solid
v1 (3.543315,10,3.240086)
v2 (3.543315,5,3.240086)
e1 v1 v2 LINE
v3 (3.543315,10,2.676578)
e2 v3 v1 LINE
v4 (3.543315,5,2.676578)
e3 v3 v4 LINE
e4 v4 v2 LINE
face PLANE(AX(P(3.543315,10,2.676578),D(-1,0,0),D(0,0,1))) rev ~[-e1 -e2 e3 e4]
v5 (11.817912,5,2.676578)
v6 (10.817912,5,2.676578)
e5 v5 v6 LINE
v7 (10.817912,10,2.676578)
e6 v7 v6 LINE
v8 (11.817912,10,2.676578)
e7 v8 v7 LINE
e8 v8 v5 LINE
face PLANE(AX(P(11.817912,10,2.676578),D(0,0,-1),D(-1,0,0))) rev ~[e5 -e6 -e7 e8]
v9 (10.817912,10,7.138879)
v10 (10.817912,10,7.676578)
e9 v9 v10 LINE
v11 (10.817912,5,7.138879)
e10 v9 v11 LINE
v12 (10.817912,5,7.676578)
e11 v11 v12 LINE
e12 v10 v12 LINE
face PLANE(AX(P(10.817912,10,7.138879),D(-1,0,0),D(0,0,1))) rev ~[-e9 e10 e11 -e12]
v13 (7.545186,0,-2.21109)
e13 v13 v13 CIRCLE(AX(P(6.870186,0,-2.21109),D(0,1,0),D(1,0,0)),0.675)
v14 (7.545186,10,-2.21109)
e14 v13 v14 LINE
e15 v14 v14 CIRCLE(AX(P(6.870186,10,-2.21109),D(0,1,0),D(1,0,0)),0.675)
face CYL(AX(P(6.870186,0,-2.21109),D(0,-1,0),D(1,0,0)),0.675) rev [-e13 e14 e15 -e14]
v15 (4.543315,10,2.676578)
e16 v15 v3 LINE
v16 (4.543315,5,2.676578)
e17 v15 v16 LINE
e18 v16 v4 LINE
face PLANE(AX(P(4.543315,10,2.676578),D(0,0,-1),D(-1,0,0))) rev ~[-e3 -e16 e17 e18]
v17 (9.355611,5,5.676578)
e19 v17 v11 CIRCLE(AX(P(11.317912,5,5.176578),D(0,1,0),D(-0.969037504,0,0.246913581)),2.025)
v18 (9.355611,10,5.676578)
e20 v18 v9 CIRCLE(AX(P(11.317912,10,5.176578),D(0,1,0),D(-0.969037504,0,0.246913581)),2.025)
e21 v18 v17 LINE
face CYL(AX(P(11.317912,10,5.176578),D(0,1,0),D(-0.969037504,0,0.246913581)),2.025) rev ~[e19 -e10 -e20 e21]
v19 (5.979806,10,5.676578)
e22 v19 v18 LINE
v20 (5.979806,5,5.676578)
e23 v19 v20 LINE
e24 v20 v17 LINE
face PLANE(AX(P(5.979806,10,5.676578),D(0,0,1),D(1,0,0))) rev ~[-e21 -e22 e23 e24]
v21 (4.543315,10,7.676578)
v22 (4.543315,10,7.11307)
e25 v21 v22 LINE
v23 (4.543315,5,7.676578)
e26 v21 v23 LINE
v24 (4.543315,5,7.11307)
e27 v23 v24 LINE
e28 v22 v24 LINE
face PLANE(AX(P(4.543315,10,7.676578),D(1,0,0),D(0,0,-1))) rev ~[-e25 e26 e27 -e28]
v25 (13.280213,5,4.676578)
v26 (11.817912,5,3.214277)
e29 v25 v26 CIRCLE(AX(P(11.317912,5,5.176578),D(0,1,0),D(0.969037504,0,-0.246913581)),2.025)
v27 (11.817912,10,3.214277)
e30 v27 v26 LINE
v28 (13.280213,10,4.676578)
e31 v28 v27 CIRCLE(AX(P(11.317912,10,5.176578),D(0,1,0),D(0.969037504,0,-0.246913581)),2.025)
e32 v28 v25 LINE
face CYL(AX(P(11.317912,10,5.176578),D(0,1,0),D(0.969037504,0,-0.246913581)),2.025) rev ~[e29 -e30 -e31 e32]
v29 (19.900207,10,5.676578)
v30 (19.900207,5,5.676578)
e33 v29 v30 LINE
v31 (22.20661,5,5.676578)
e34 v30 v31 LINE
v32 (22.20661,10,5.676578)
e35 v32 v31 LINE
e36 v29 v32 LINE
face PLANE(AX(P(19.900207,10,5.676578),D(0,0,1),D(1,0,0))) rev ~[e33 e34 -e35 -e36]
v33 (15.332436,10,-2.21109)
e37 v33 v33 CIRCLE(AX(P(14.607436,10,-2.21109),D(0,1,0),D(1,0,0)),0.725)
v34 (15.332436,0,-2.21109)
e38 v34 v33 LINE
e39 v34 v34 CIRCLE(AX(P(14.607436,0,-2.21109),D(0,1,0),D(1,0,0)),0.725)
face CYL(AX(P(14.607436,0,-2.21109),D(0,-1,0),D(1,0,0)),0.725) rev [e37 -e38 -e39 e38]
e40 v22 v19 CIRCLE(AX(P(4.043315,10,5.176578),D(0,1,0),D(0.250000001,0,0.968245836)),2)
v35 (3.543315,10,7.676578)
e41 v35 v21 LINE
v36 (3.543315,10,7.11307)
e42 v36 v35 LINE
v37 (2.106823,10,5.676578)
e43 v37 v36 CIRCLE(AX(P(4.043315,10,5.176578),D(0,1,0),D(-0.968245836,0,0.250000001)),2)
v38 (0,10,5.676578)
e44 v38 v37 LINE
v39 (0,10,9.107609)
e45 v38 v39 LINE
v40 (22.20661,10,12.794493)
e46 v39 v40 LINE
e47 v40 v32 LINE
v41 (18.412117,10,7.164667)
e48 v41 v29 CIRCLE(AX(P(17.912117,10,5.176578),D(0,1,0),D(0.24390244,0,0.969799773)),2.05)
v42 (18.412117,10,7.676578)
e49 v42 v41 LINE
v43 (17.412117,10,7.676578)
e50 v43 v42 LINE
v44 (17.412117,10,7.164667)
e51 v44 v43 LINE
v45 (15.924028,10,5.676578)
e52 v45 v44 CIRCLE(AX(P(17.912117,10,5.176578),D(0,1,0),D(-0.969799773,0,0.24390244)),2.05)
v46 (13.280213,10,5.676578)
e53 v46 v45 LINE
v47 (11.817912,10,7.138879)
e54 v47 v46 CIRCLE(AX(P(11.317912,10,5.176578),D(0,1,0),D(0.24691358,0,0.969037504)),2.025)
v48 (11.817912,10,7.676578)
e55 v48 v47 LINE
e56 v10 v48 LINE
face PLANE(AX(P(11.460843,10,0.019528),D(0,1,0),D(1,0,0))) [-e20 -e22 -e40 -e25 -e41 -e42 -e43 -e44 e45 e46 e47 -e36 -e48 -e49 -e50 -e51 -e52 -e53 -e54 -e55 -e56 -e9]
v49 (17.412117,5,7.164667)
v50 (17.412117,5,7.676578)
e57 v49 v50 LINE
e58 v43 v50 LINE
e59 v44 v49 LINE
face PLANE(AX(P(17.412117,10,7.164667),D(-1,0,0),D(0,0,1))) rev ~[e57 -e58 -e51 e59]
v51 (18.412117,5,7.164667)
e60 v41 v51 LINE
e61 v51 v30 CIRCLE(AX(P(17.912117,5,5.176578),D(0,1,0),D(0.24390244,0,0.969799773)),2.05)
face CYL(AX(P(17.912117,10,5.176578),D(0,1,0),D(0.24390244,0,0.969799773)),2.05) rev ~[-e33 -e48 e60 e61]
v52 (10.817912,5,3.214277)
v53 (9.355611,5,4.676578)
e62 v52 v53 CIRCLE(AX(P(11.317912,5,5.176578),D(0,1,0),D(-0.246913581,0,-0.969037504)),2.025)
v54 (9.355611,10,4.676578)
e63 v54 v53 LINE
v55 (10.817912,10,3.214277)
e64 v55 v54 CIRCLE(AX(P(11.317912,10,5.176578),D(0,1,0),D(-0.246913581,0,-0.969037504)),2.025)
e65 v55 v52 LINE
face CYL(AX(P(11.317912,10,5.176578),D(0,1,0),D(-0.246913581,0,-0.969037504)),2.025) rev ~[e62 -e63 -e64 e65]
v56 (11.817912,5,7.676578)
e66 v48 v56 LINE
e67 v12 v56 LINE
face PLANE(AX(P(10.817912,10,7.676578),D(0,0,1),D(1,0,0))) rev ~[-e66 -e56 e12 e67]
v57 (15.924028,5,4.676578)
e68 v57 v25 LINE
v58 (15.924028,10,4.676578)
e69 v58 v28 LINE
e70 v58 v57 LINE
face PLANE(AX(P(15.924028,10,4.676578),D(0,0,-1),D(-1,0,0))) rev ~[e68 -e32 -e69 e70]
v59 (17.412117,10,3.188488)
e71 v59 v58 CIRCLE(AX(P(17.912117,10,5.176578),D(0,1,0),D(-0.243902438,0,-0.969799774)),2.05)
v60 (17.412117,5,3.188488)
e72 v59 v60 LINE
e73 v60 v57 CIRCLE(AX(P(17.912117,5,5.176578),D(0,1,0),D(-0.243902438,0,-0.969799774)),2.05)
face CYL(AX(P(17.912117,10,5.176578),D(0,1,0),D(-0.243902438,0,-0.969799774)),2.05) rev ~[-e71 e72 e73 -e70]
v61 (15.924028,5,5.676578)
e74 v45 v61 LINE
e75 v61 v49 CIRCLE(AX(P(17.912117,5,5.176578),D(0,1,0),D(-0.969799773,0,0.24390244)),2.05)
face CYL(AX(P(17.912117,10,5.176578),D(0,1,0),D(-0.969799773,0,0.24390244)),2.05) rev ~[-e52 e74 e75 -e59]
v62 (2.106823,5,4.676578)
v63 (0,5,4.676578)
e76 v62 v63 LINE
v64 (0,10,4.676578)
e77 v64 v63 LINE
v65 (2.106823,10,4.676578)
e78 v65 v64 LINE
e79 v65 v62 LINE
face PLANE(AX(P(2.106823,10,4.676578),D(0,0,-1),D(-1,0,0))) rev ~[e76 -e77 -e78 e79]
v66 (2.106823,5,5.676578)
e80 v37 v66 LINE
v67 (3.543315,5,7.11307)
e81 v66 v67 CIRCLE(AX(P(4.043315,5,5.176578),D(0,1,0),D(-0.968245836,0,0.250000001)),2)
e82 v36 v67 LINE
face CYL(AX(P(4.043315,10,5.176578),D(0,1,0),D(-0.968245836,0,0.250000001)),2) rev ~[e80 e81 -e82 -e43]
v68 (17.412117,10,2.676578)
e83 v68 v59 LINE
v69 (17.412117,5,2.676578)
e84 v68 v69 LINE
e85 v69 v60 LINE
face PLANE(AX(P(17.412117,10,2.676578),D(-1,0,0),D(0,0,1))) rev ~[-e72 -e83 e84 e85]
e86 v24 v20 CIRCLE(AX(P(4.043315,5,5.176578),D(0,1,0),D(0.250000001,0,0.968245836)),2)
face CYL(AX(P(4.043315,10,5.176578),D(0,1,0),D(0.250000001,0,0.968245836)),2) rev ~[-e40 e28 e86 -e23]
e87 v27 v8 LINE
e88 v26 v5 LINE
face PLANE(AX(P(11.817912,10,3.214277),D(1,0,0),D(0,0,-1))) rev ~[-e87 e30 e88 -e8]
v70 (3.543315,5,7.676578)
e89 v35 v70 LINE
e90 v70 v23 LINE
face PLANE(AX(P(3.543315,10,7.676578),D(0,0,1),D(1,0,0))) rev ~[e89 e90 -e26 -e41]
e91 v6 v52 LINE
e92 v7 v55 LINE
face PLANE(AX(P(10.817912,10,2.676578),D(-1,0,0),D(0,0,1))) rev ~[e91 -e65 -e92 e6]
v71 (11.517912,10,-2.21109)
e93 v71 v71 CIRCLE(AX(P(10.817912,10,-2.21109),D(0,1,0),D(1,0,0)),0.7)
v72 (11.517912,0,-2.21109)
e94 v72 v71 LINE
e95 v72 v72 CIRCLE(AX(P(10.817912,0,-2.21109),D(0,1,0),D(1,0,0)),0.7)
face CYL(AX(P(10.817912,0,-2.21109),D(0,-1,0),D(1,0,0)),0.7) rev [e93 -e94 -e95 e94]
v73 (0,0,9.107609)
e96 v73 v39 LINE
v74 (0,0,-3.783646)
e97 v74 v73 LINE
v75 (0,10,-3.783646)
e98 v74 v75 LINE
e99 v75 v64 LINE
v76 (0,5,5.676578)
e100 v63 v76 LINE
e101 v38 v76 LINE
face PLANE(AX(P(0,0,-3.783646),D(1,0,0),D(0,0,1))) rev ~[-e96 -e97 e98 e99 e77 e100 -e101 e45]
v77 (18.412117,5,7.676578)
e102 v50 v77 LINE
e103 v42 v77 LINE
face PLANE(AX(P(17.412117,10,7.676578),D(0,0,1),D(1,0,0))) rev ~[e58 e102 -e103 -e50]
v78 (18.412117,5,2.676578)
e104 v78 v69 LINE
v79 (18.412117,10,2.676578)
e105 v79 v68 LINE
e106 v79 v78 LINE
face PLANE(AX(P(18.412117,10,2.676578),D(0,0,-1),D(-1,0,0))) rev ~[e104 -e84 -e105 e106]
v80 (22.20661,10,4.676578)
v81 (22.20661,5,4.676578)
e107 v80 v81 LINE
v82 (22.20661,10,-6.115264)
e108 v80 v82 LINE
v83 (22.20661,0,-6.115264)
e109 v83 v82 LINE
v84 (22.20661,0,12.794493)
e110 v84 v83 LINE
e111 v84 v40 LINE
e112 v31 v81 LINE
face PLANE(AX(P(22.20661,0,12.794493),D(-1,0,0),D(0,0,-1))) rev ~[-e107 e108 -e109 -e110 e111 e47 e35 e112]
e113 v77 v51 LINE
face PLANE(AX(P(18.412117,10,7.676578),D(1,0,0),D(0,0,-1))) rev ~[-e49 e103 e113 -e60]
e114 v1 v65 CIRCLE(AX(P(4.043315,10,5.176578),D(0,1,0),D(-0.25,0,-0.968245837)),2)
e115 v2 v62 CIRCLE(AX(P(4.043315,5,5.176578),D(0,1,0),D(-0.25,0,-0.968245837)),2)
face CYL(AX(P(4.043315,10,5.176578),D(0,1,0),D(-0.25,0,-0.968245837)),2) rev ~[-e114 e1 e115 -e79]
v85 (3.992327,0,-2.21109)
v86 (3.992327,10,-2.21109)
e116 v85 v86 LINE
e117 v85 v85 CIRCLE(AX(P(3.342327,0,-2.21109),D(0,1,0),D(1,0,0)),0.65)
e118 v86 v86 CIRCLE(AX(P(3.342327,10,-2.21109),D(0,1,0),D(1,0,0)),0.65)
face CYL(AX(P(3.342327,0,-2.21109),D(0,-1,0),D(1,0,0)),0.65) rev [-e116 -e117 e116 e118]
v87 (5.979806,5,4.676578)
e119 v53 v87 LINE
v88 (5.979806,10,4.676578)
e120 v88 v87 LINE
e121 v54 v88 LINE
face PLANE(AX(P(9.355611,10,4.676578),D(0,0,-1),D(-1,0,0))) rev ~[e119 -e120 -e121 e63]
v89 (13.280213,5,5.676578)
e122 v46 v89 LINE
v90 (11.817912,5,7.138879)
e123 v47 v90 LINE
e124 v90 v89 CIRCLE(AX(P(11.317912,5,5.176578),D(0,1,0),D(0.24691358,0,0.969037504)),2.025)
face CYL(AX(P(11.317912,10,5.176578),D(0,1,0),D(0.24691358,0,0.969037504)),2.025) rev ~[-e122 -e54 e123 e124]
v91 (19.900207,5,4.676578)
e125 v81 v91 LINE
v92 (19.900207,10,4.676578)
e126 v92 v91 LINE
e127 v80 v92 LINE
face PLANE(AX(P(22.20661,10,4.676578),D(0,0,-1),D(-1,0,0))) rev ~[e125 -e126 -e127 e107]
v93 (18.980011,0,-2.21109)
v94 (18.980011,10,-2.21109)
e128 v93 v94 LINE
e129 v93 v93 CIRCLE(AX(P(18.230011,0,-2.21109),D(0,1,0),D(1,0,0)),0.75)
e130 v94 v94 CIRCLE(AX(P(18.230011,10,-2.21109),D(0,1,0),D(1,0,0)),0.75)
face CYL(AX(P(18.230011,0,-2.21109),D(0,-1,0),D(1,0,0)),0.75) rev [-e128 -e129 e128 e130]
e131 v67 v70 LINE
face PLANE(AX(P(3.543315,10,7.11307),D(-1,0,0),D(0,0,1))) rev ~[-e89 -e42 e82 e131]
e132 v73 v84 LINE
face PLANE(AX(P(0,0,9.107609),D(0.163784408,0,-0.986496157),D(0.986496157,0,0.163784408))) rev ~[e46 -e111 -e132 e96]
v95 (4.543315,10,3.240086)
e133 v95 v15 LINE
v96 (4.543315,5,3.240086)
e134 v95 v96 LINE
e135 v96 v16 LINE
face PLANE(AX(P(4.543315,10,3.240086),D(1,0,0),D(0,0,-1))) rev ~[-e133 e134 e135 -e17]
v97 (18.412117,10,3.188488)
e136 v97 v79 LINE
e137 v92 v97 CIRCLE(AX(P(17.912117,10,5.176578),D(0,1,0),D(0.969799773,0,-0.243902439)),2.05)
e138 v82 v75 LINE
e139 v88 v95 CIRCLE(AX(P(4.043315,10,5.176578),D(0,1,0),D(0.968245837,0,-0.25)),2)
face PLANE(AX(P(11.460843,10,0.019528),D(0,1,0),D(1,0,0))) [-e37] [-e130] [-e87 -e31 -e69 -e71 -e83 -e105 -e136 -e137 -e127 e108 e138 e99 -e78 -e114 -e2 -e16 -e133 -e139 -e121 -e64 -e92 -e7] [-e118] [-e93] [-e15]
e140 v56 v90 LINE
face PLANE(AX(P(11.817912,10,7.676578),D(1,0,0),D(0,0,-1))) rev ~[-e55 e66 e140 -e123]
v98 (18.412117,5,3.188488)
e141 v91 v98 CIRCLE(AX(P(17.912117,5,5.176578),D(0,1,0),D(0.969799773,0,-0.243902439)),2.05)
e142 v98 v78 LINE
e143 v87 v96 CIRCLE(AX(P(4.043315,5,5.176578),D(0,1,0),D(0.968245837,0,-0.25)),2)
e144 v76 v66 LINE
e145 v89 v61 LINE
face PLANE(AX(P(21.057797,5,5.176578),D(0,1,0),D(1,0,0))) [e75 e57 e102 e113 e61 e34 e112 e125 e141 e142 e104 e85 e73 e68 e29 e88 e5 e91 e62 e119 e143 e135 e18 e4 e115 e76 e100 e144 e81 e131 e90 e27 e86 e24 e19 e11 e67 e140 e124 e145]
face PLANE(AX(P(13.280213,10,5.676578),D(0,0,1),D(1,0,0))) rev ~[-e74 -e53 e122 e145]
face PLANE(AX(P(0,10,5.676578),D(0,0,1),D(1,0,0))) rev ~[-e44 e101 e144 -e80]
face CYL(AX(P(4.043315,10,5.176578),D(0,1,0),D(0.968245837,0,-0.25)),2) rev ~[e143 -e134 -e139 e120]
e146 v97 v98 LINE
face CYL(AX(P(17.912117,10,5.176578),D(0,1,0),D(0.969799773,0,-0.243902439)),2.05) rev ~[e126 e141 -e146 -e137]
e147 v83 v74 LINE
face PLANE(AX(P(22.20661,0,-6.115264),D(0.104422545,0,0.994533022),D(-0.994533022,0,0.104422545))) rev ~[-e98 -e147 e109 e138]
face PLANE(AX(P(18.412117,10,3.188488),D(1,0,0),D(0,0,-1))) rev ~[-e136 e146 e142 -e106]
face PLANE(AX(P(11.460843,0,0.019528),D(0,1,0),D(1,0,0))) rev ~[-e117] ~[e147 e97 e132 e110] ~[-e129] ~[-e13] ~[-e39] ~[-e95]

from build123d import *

# Parameters (mm, degrees)
SKETCH1_R           = 0.65
SKETCH1_R_2         = 0.675
SKETCH1_R_3         = 0.7
SKETCH1_R_4         = 0.725
SKETCH1_R_5         = 0.75
SKETCH1_W           = 1
SKETCH1_H           = 1
BOSS_EXTRUDE1_DEPTH = 10
CUT_EXTRUDE1_START  = 10
SKETCH1_4_W         = 1
SKETCH1_4_H         = 1
CUT_EXTRUDE1_DEPTH  = 5


with BuildPart() as part:
    # Sketch1 → Boss-Extrude1 (new body)
    with BuildSketch(Plane(origin=(0, 0, 0), x_dir=(1, 0, 0), z_dir=(0, 1, 0))):
        with BuildLine():
            Line((22.206609956, -4.676577902), (22.206609956, -1.693083106))
            Line((22.206609956, -1.693083106), (22.206609956, 6.115263516))
            Line((22.206609956, 6.115263516), (0, 3.783645885))
            Line((0, 3.783645885), (0, 1.993800458))
            Line((0, 1.993800458), (0, -4.676577902))
            Line((0, -4.676577902), (2.106823129, -4.676577902))
            ThreePointArc((2.106823129, -4.676577902), (2.62910124, -3.762364339), (3.543314802, -3.240086229))
            Line((3.543314802, -3.240086229), (3.543314802, -2.676577902))
            Line((3.543314802, -2.676577902), (4.543314802, -2.676577902))
            Line((4.543314802, -2.676577902), (4.543314802, -3.240086229))
            ThreePointArc((4.543314802, -3.240086229), (5.457528364, -3.762364339), (5.979806475, -4.676577902))
            Line((5.979806475, -4.676577902), (9.355611155, -4.676577902))
            ThreePointArc((9.355611155, -4.676577902), (9.886020869, -3.74468667), (10.8179121, -3.214276957))
            Line((10.8179121, -3.214276957), (10.8179121, -2.676577902))
            Line((10.8179121, -2.676577902), (11.8179121, -2.676577902))
            Line((11.8179121, -2.676577902), (11.8179121, -3.214276957))
            ThreePointArc((11.8179121, -3.214276957), (12.749803332, -3.74468667), (13.280213046, -4.676577902))
            Line((13.280213046, -4.676577902), (15.924027608, -4.676577902))
            ThreePointArc((15.924027608, -4.676577902), (16.462548242, -3.727009), (17.412117144, -3.188488367))
            Line((17.412117144, -3.188488367), (17.412117144, -2.676577902))
            Line((17.412117144, -2.676577902), (18.412117144, -2.676577902))
            Line((18.412117144, -2.676577902), (18.412117144, -3.188488367))
            ThreePointArc((18.412117144, -3.188488367), (19.361686045, -3.727009), (19.900206679, -4.676577902))
            Line((19.900206679, -4.676577902), (22.206609956, -4.676577902))
        make_face()
        with Locations((3.342327151, 2.211090205)):
            Circle(SKETCH1_R, mode=Mode.SUBTRACT)
        with Locations((6.870185956, 2.211090205)):
            Circle(SKETCH1_R_2, mode=Mode.SUBTRACT)
        with Locations((10.8179121, 2.211090205)):
            Circle(SKETCH1_R_3, mode=Mode.SUBTRACT)
        with Locations((14.607435977, 2.211090205)):
            Circle(SKETCH1_R_4, mode=Mode.SUBTRACT)
        with Locations((18.23001071, 2.211090205)):
            Circle(SKETCH1_R_5, mode=Mode.SUBTRACT)
        with BuildLine():
            Line((22.206609956, -12.794492927), (22.206609956, -5.676577902))
            Line((22.206609956, -5.676577902), (19.900206679, -5.676577902))
            ThreePointArc((19.900206679, -5.676577902), (19.361686045, -6.626146803), (18.412117144, -7.164667437))
            Line((18.412117144, -7.164667437), (18.412117144, -7.676577902))
            Line((18.412117144, -7.676577902), (17.412117144, -7.676577902))
            Line((17.412117144, -7.676577902), (17.412117144, -7.164667437))
            ThreePointArc((17.412117144, -7.164667437), (16.462548242, -6.626146803), (15.924027608, -5.676577902))
            Line((15.924027608, -5.676577902), (13.280213046, -5.676577902))
            ThreePointArc((13.280213046, -5.676577902), (12.749803332, -6.608469134), (11.8179121, -7.138878847))
            Line((11.8179121, -7.138878847), (11.8179121, -7.676577902))
            Line((11.8179121, -7.676577902), (10.8179121, -7.676577902))
            Line((10.8179121, -7.676577902), (10.8179121, -7.138878847))
            ThreePointArc((10.8179121, -7.138878847), (9.886020869, -6.608469134), (9.355611155, -5.676577902))
            Line((9.355611155, -5.676577902), (5.979806475, -5.676577902))
            ThreePointArc((5.979806475, -5.676577902), (5.457528364, -6.590791464), (4.543314802, -7.113069575))
            Line((4.543314802, -7.113069575), (4.543314802, -7.676577902))
            Line((4.543314802, -7.676577902), (3.543314802, -7.676577902))
            Line((3.543314802, -7.676577902), (3.543314802, -7.113069575))
            ThreePointArc((3.543314802, -7.113069575), (2.62910124, -6.590791464), (2.106823129, -5.676577902))
            Line((2.106823129, -5.676577902), (0, -5.676577902))
            Line((0, -5.676577902), (0, -9.107609363))
            Line((0, -9.107609363), (22.206609956, -12.794492927))
        make_face()
        with BuildLine():
            Line((22.206609956, -5.676577902), (22.206609956, -4.676577902))
            Line((22.206609956, -4.676577902), (19.900206679, -4.676577902))
            ThreePointArc((19.900206679, -4.676577902), (19.946580654, -4.924668739), (19.962117144, -5.176577902))
            ThreePointArc((19.962117144, -5.176577902), (19.946580654, -5.428487065), (19.900206679, -5.676577902))
            Line((19.900206679, -5.676577902), (22.206609956, -5.676577902))
        make_face()
        with BuildLine():
            ThreePointArc((19.962117144, -5.176577902), (19.946580654, -4.924668739), (19.900206679, -4.676577902))
            Line((19.900206679, -4.676577902), (18.412117144, -4.676577902))
            Line((18.412117144, -4.676577902), (18.412117144, -5.676577902))
            Line((18.412117144, -5.676577902), (19.900206679, -5.676577902))
            ThreePointArc((19.900206679, -5.676577902), (19.946580654, -5.428487065), (19.962117144, -5.176577902))
        make_face()
        with BuildLine():
            Line((18.412117144, -4.676577902), (19.900206679, -4.676577902))
            ThreePointArc((19.900206679, -4.676577902), (19.361686045, -3.727009), (18.412117144, -3.188488367))
            Line((18.412117144, -3.188488367), (18.412117144, -4.676577902))
        make_face()
        with BuildLine():
            ThreePointArc((17.412117144, -3.188488367), (17.912117144, -3.126577902), (18.412117144, -3.188488367))
            Line((18.412117144, -3.188488367), (18.412117144, -2.676577902))
            Line((18.412117144, -2.676577902), (17.412117144, -2.676577902))
            Line((17.412117144, -2.676577902), (17.412117144, -3.188488367))
        make_face()
        with BuildLine():
            Line((17.412117144, -4.676577902), (18.412117144, -4.676577902))
            Line((18.412117144, -4.676577902), (18.412117144, -3.188488367))
            ThreePointArc((18.412117144, -3.188488367), (17.912117144, -3.126577902), (17.412117144, -3.188488367))
            Line((17.412117144, -3.188488367), (17.412117144, -4.676577902))
        make_face()
        with BuildLine():
            ThreePointArc((18.412117144, -7.164667437), (19.361686045, -6.626146803), (19.900206679, -5.676577902))
            Line((19.900206679, -5.676577902), (18.412117144, -5.676577902))
            Line((18.412117144, -5.676577902), (18.412117144, -7.164667437))
        make_face()
        with BuildLine():
            Line((18.412117144, -7.164667437), (18.412117144, -5.676577902))
            Line((18.412117144, -5.676577902), (17.412117144, -5.676577902))
            Line((17.412117144, -5.676577902), (17.412117144, -7.164667437))
            ThreePointArc((17.412117144, -7.164667437), (17.912117144, -7.226577902), (18.412117144, -7.164667437))
        make_face()
        with BuildLine():
            Line((18.412117144, -7.676577902), (18.412117144, -7.164667437))
            ThreePointArc((18.412117144, -7.164667437), (17.912117144, -7.226577902), (17.412117144, -7.164667437))
            Line((17.412117144, -7.164667437), (17.412117144, -7.676577902))
            Line((17.412117144, -7.676577902), (18.412117144, -7.676577902))
        make_face()
        with Locations((17.912117144, -5.176577902)):
            Rectangle(SKETCH1_W, SKETCH1_H)
        with BuildLine():
            Line((17.412117144, -5.676577902), (17.412117144, -4.676577902))
            Line((17.412117144, -4.676577902), (15.924027608, -4.676577902))
            ThreePointArc((15.924027608, -4.676577902), (15.862117144, -5.176577902), (15.924027608, -5.676577902))
            Line((15.924027608, -5.676577902), (17.412117144, -5.676577902))
        make_face()
        with BuildLine():
            Line((15.924027608, -4.676577902), (17.412117144, -4.676577902))
            Line((17.412117144, -4.676577902), (17.412117144, -3.188488367))
            ThreePointArc((17.412117144, -3.188488367), (16.462548242, -3.727009), (15.924027608, -4.676577902))
        make_face()
        with BuildLine():
            Line((17.412117144, -7.164667437), (17.412117144, -5.676577902))
            Line((17.412117144, -5.676577902), (15.924027608, -5.676577902))
            ThreePointArc((15.924027608, -5.676577902), (16.462548242, -6.626146803), (17.412117144, -7.164667437))
        make_face()
        with BuildLine():
            ThreePointArc((15.924027608, -5.676577902), (15.862117144, -5.176577902), (15.924027608, -4.676577902))
            Line((15.924027608, -4.676577902), (13.280213046, -4.676577902))
            ThreePointArc((13.280213046, -4.676577902), (13.327176196, -4.924619983), (13.3429121, -5.176577902))
            ThreePointArc((13.3429121, -5.176577902), (13.327176196, -5.428535821), (13.280213046, -5.676577902))
            Line((13.280213046, -5.676577902), (15.924027608, -5.676577902))
        make_face()
        with BuildLine():
            Line((11.8179121, -4.676577902), (13.280213046, -4.676577902))
            ThreePointArc((13.280213046, -4.676577902), (12.749803332, -3.74468667), (11.8179121, -3.214276957))
            Line((11.8179121, -3.214276957), (11.8179121, -4.676577902))
        make_face()
        with BuildLine():
            ThreePointArc((10.8179121, -3.214276957), (11.3179121, -3.151577902), (11.8179121, -3.214276957))
            Line((11.8179121, -3.214276957), (11.8179121, -2.676577902))
            Line((11.8179121, -2.676577902), (10.8179121, -2.676577902))
            Line((10.8179121, -2.676577902), (10.8179121, -3.214276957))
        make_face()
        with BuildLine():
            Line((10.8179121, -4.676577902), (11.8179121, -4.676577902))
            Line((11.8179121, -4.676577902), (11.8179121, -3.214276957))
            ThreePointArc((11.8179121, -3.214276957), (11.3179121, -3.151577902), (10.8179121, -3.214276957))
            Line((10.8179121, -3.214276957), (10.8179121, -4.676577902))
        make_face()
        with BuildLine():
            ThreePointArc((13.3429121, -5.176577902), (13.327176196, -4.924619983), (13.280213046, -4.676577902))
            Line((13.280213046, -4.676577902), (11.8179121, -4.676577902))
            Line((11.8179121, -4.676577902), (11.8179121, -5.676577902))
            Line((11.8179121, -5.676577902), (13.280213046, -5.676577902))
            ThreePointArc((13.280213046, -5.676577902), (13.327176196, -5.428535821), (13.3429121, -5.176577902))
        make_face()
        with BuildLine():
            ThreePointArc((11.8179121, -7.138878847), (12.749803332, -6.608469134), (13.280213046, -5.676577902))
            Line((13.280213046, -5.676577902), (11.8179121, -5.676577902))
            Line((11.8179121, -5.676577902), (11.8179121, -7.138878847))
        make_face()
        with BuildLine():
            Line((11.8179121, -7.138878847), (11.8179121, -5.676577902))
            Line((11.8179121, -5.676577902), (10.8179121, -5.676577902))
            Line((10.8179121, -5.676577902), (10.8179121, -7.138878847))
            ThreePointArc((10.8179121, -7.138878847), (11.3179121, -7.201577902), (11.8179121, -7.138878847))
        make_face()
        with BuildLine():
            Line((11.8179121, -7.676577902), (11.8179121, -7.138878847))
            ThreePointArc((11.8179121, -7.138878847), (11.3179121, -7.201577902), (10.8179121, -7.138878847))
            Line((10.8179121, -7.138878847), (10.8179121, -7.676577902))
            Line((10.8179121, -7.676577902), (11.8179121, -7.676577902))
        make_face()
        with Locations((11.3179121, -5.176577902)):
            Rectangle(SKETCH1_W, SKETCH1_H)
        with BuildLine():
            Line((10.8179121, -5.676577902), (10.8179121, -4.676577902))
            Line((10.8179121, -4.676577902), (9.355611155, -4.676577902))
            ThreePointArc((9.355611155, -4.676577902), (9.2929121, -5.176577902), (9.355611155, -5.676577902))
            Line((9.355611155, -5.676577902), (10.8179121, -5.676577902))
        make_face()
        with BuildLine():
            Line((9.355611155, -4.676577902), (10.8179121, -4.676577902))
            Line((10.8179121, -4.676577902), (10.8179121, -3.214276957))
            ThreePointArc((10.8179121, -3.214276957), (9.886020869, -3.74468667), (9.355611155, -4.676577902))
        make_face()
        with BuildLine():
            Line((10.8179121, -7.138878847), (10.8179121, -5.676577902))
            Line((10.8179121, -5.676577902), (9.355611155, -5.676577902))
            ThreePointArc((9.355611155, -5.676577902), (9.886020869, -6.608469134), (10.8179121, -7.138878847))
        make_face()
        with BuildLine():
            Line((9.355611155, -4.676577902), (5.979806475, -4.676577902))
            ThreePointArc((5.979806475, -4.676577902), (6.027374194, -4.924569317), (6.043314802, -5.176577902))
            ThreePointArc((6.043314802, -5.176577902), (6.027374194, -5.428586487), (5.979806475, -5.676577902))
            Line((5.979806475, -5.676577902), (9.355611155, -5.676577902))
            ThreePointArc((9.355611155, -5.676577902), (9.2929121, -5.176577902), (9.355611155, -4.676577902))
        make_face()
        with BuildLine():
            Line((4.543314802, -3.240086229), (4.543314802, -4.676577902))
            Line((4.543314802, -4.676577902), (5.979806475, -4.676577902))
            ThreePointArc((5.979806475, -4.676577902), (5.457528364, -3.762364339), (4.543314802, -3.240086229))
        make_face()
        with BuildLine():
            Line((5.979806475, -4.676577902), (4.543314802, -4.676577902))
            Line((4.543314802, -4.676577902), (4.543314802, -5.676577902))
            Line((4.543314802, -5.676577902), (5.979806475, -5.676577902))
            ThreePointArc((5.979806475, -5.676577902), (6.027374194, -5.428586487), (6.043314802, -5.176577902))
            ThreePointArc((6.043314802, -5.176577902), (6.027374194, -4.924569317), (5.979806475, -4.676577902))
        make_face()
        with BuildLine():
            Line((5.979806475, -5.676577902), (4.543314802, -5.676577902))
            Line((4.543314802, -5.676577902), (4.543314802, -7.113069575))
            ThreePointArc((4.543314802, -7.113069575), (5.457528364, -6.590791464), (5.979806475, -5.676577902))
        make_face()
        with BuildLine():
            Line((4.543314802, -5.676577902), (3.543314802, -5.676577902))
            Line((3.543314802, -5.676577902), (3.543314802, -7.113069575))
            ThreePointArc((3.543314802, -7.113069575), (4.043314802, -7.176577902), (4.543314802, -7.113069575))
            Line((4.543314802, -7.113069575), (4.543314802, -5.676577902))
        make_face()
        with BuildLine():
            ThreePointArc((4.543314802, -7.113069575), (4.043314802, -7.176577902), (3.543314802, -7.113069575))
            Line((3.543314802, -7.113069575), (3.543314802, -7.676577902))
            Line((3.543314802, -7.676577902), (4.543314802, -7.676577902))
            Line((4.543314802, -7.676577902), (4.543314802, -7.113069575))
        make_face()
        with BuildLine():
            Line((3.543314802, -5.676577902), (2.106823129, -5.676577902))
            ThreePointArc((2.106823129, -5.676577902), (2.62910124, -6.590791464), (3.543314802, -7.113069575))
            Line((3.543314802, -7.113069575), (3.543314802, -5.676577902))
        make_face()
        with BuildLine():
            Line((3.543314802, -4.676577902), (2.106823129, -4.676577902))
            ThreePointArc((2.106823129, -4.676577902), (2.043314802, -5.176577902), (2.106823129, -5.676577902))
            Line((2.106823129, -5.676577902), (3.543314802, -5.676577902))
            Line((3.543314802, -5.676577902), (3.543314802, -4.676577902))
        make_face()
        with Locations((4.043314802, -5.176577902)):
            Rectangle(SKETCH1_W, SKETCH1_H)
        with BuildLine():
            Line((3.543314802, -3.240086229), (3.543314802, -4.676577902))
            Line((3.543314802, -4.676577902), (4.543314802, -4.676577902))
            Line((4.543314802, -4.676577902), (4.543314802, -3.240086229))
            ThreePointArc((4.543314802, -3.240086229), (4.043314802, -3.176577902), (3.543314802, -3.240086229))
        make_face()
        with BuildLine():
            Line((3.543314802, -2.676577902), (3.543314802, -3.240086229))
            ThreePointArc((3.543314802, -3.240086229), (4.043314802, -3.176577902), (4.543314802, -3.240086229))
            Line((4.543314802, -3.240086229), (4.543314802, -2.676577902))
            Line((4.543314802, -2.676577902), (3.543314802, -2.676577902))
        make_face()
        with BuildLine():
            ThreePointArc((3.543314802, -3.240086229), (2.62910124, -3.762364339), (2.106823129, -4.676577902))
            Line((2.106823129, -4.676577902), (3.543314802, -4.676577902))
            Line((3.543314802, -4.676577902), (3.543314802, -3.240086229))
        make_face()
        with BuildLine():
            Line((2.106823129, -4.676577902), (0, -4.676577902))
            Line((0, -4.676577902), (0, -5.676577902))
            Line((0, -5.676577902), (2.106823129, -5.676577902))
            ThreePointArc((2.106823129, -5.676577902), (2.043314802, -5.176577902), (2.106823129, -4.676577902))
        make_face()
    extrude(amount=BOSS_EXTRUDE1_DEPTH)

    # Sketch1<4> → Cut-Extrude1 (cut)
    with BuildSketch(Plane(origin=(0, 0, 0), x_dir=(1, 0, 0), z_dir=(0, 1, 0)).offset(CUT_EXTRUDE1_START)):
        with BuildLine():
            Line((22.206609956, -5.676577902), (22.206609956, -4.676577902))
            Line((22.206609956, -4.676577902), (19.900206679, -4.676577902))
            ThreePointArc((19.900206679, -4.676577902), (19.946580654, -4.924668739), (19.962117144, -5.176577902))
            ThreePointArc((19.962117144, -5.176577902), (19.946580654, -5.428487065), (19.900206679, -5.676577902))
            Line((19.900206679, -5.676577902), (22.206609956, -5.676577902))
        make_face()
        with BuildLine():
            ThreePointArc((19.962117144, -5.176577902), (19.946580654, -4.924668739), (19.900206679, -4.676577902))
            Line((19.900206679, -4.676577902), (18.412117144, -4.676577902))
            Line((18.412117144, -4.676577902), (18.412117144, -5.676577902))
            Line((18.412117144, -5.676577902), (19.900206679, -5.676577902))
            ThreePointArc((19.900206679, -5.676577902), (19.946580654, -5.428487065), (19.962117144, -5.176577902))
        make_face()
        with BuildLine():
            Line((18.412117144, -4.676577902), (19.900206679, -4.676577902))
            ThreePointArc((19.900206679, -4.676577902), (19.361686045, -3.727009), (18.412117144, -3.188488367))
            Line((18.412117144, -3.188488367), (18.412117144, -4.676577902))
        make_face()
        with BuildLine():
            ThreePointArc((18.412117144, -7.164667437), (19.361686045, -6.626146803), (19.900206679, -5.676577902))
            Line((19.900206679, -5.676577902), (18.412117144, -5.676577902))
            Line((18.412117144, -5.676577902), (18.412117144, -7.164667437))
        make_face()
        with BuildLine():
            Line((18.412117144, -7.676577902), (18.412117144, -7.164667437))
            ThreePointArc((18.412117144, -7.164667437), (17.912117144, -7.226577902), (17.412117144, -7.164667437))
            Line((17.412117144, -7.164667437), (17.412117144, -7.676577902))
            Line((17.412117144, -7.676577902), (18.412117144, -7.676577902))
        make_face()
        with BuildLine():
            Line((18.412117144, -7.164667437), (18.412117144, -5.676577902))
            Line((18.412117144, -5.676577902), (17.412117144, -5.676577902))
            Line((17.412117144, -5.676577902), (17.412117144, -7.164667437))
            ThreePointArc((17.412117144, -7.164667437), (17.912117144, -7.226577902), (18.412117144, -7.164667437))
        make_face()
        with Locations((17.912117144, -5.176577902)):
            Rectangle(SKETCH1_4_W, SKETCH1_4_H)
        with BuildLine():
            Line((17.412117144, -4.676577902), (18.412117144, -4.676577902))
            Line((18.412117144, -4.676577902), (18.412117144, -3.188488367))
            ThreePointArc((18.412117144, -3.188488367), (17.912117144, -3.126577902), (17.412117144, -3.188488367))
            Line((17.412117144, -3.188488367), (17.412117144, -4.676577902))
        make_face()
        with BuildLine():
            ThreePointArc((17.412117144, -3.188488367), (17.912117144, -3.126577902), (18.412117144, -3.188488367))
            Line((18.412117144, -3.188488367), (18.412117144, -2.676577902))
            Line((18.412117144, -2.676577902), (17.412117144, -2.676577902))
            Line((17.412117144, -2.676577902), (17.412117144, -3.188488367))
        make_face()
        with BuildLine():
            Line((15.924027608, -4.676577902), (17.412117144, -4.676577902))
            Line((17.412117144, -4.676577902), (17.412117144, -3.188488367))
            ThreePointArc((17.412117144, -3.188488367), (16.462548242, -3.727009), (15.924027608, -4.676577902))
        make_face()
        with BuildLine():
            Line((17.412117144, -5.676577902), (17.412117144, -4.676577902))
            Line((17.412117144, -4.676577902), (15.924027608, -4.676577902))
            ThreePointArc((15.924027608, -4.676577902), (15.862117144, -5.176577902), (15.924027608, -5.676577902))
            Line((15.924027608, -5.676577902), (17.412117144, -5.676577902))
        make_face()
        with BuildLine():
            Line((17.412117144, -7.164667437), (17.412117144, -5.676577902))
            Line((17.412117144, -5.676577902), (15.924027608, -5.676577902))
            ThreePointArc((15.924027608, -5.676577902), (16.462548242, -6.626146803), (17.412117144, -7.164667437))
        make_face()
        with BuildLine():
            ThreePointArc((15.924027608, -5.676577902), (15.862117144, -5.176577902), (15.924027608, -4.676577902))
            Line((15.924027608, -4.676577902), (13.280213046, -4.676577902))
            ThreePointArc((13.280213046, -4.676577902), (13.327176196, -4.924619983), (13.3429121, -5.176577902))
            ThreePointArc((13.3429121, -5.176577902), (13.327176196, -5.428535821), (13.280213046, -5.676577902))
            Line((13.280213046, -5.676577902), (15.924027608, -5.676577902))
        make_face()
        with BuildLine():
            ThreePointArc((13.3429121, -5.176577902), (13.327176196, -4.924619983), (13.280213046, -4.676577902))
            Line((13.280213046, -4.676577902), (11.8179121, -4.676577902))
            Line((11.8179121, -4.676577902), (11.8179121, -5.676577902))
            Line((11.8179121, -5.676577902), (13.280213046, -5.676577902))
            ThreePointArc((13.280213046, -5.676577902), (13.327176196, -5.428535821), (13.3429121, -5.176577902))
        make_face()
        with BuildLine():
            ThreePointArc((11.8179121, -7.138878847), (12.749803332, -6.608469134), (13.280213046, -5.676577902))
            Line((13.280213046, -5.676577902), (11.8179121, -5.676577902))
            Line((11.8179121, -5.676577902), (11.8179121, -7.138878847))
        make_face()
        with BuildLine():
            Line((11.8179121, -7.676577902), (11.8179121, -7.138878847))
            ThreePointArc((11.8179121, -7.138878847), (11.3179121, -7.201577902), (10.8179121, -7.138878847))
            Line((10.8179121, -7.138878847), (10.8179121, -7.676577902))
            Line((10.8179121, -7.676577902), (11.8179121, -7.676577902))
        make_face()
        with BuildLine():
            Line((11.8179121, -7.138878847), (11.8179121, -5.676577902))
            Line((11.8179121, -5.676577902), (10.8179121, -5.676577902))
            Line((10.8179121, -5.676577902), (10.8179121, -7.138878847))
            ThreePointArc((10.8179121, -7.138878847), (11.3179121, -7.201577902), (11.8179121, -7.138878847))
        make_face()
        with Locations((11.3179121, -5.176577902)):
            Rectangle(SKETCH1_4_W, SKETCH1_4_H)
        with BuildLine():
            Line((10.8179121, -4.676577902), (11.8179121, -4.676577902))
            Line((11.8179121, -4.676577902), (11.8179121, -3.214276957))
            ThreePointArc((11.8179121, -3.214276957), (11.3179121, -3.151577902), (10.8179121, -3.214276957))
            Line((10.8179121, -3.214276957), (10.8179121, -4.676577902))
        make_face()
        with BuildLine():
            Line((11.8179121, -4.676577902), (13.280213046, -4.676577902))
            ThreePointArc((13.280213046, -4.676577902), (12.749803332, -3.74468667), (11.8179121, -3.214276957))
            Line((11.8179121, -3.214276957), (11.8179121, -4.676577902))
        make_face()
        with BuildLine():
            ThreePointArc((10.8179121, -3.214276957), (11.3179121, -3.151577902), (11.8179121, -3.214276957))
            Line((11.8179121, -3.214276957), (11.8179121, -2.676577902))
            Line((11.8179121, -2.676577902), (10.8179121, -2.676577902))
            Line((10.8179121, -2.676577902), (10.8179121, -3.214276957))
        make_face()
        with BuildLine():
            Line((9.355611155, -4.676577902), (10.8179121, -4.676577902))
            Line((10.8179121, -4.676577902), (10.8179121, -3.214276957))
            ThreePointArc((10.8179121, -3.214276957), (9.886020869, -3.74468667), (9.355611155, -4.676577902))
        make_face()
        with BuildLine():
            Line((10.8179121, -5.676577902), (10.8179121, -4.676577902))
            Line((10.8179121, -4.676577902), (9.355611155, -4.676577902))
            ThreePointArc((9.355611155, -4.676577902), (9.2929121, -5.176577902), (9.355611155, -5.676577902))
            Line((9.355611155, -5.676577902), (10.8179121, -5.676577902))
        make_face()
        with BuildLine():
            Line((10.8179121, -7.138878847), (10.8179121, -5.676577902))
            Line((10.8179121, -5.676577902), (9.355611155, -5.676577902))
            ThreePointArc((9.355611155, -5.676577902), (9.886020869, -6.608469134), (10.8179121, -7.138878847))
        make_face()
        with BuildLine():
            Line((9.355611155, -4.676577902), (5.979806475, -4.676577902))
            ThreePointArc((5.979806475, -4.676577902), (6.027374194, -4.924569317), (6.043314802, -5.176577902))
            ThreePointArc((6.043314802, -5.176577902), (6.027374194, -5.428586487), (5.979806475, -5.676577902))
            Line((5.979806475, -5.676577902), (9.355611155, -5.676577902))
            ThreePointArc((9.355611155, -5.676577902), (9.2929121, -5.176577902), (9.355611155, -4.676577902))
        make_face()
        with BuildLine():
            Line((5.979806475, -4.676577902), (4.543314802, -4.676577902))
            Line((4.543314802, -4.676577902), (4.543314802, -5.676577902))
            Line((4.543314802, -5.676577902), (5.979806475, -5.676577902))
            ThreePointArc((5.979806475, -5.676577902), (6.027374194, -5.428586487), (6.043314802, -5.176577902))
            ThreePointArc((6.043314802, -5.176577902), (6.027374194, -4.924569317), (5.979806475, -4.676577902))
        make_face()
        with BuildLine():
            Line((4.543314802, -3.240086229), (4.543314802, -4.676577902))
            Line((4.543314802, -4.676577902), (5.979806475, -4.676577902))
            ThreePointArc((5.979806475, -4.676577902), (5.457528364, -3.762364339), (4.543314802, -3.240086229))
        make_face()
        with BuildLine():
            Line((3.543314802, -2.676577902), (3.543314802, -3.240086229))
            ThreePointArc((3.543314802, -3.240086229), (4.043314802, -3.176577902), (4.543314802, -3.240086229))
            Line((4.543314802, -3.240086229), (4.543314802, -2.676577902))
            Line((4.543314802, -2.676577902), (3.543314802, -2.676577902))
        make_face()
        with BuildLine():
            Line((3.543314802, -3.240086229), (3.543314802, -4.676577902))
            Line((3.543314802, -4.676577902), (4.543314802, -4.676577902))
            Line((4.543314802, -4.676577902), (4.543314802, -3.240086229))
            ThreePointArc((4.543314802, -3.240086229), (4.043314802, -3.176577902), (3.543314802, -3.240086229))
        make_face()
        with BuildLine():
            Line((4.543314802, -5.676577902), (3.543314802, -5.676577902))
            Line((3.543314802, -5.676577902), (3.543314802, -7.113069575))
            ThreePointArc((3.543314802, -7.113069575), (4.043314802, -7.176577902), (4.543314802, -7.113069575))
            Line((4.543314802, -7.113069575), (4.543314802, -5.676577902))
        make_face()
        with Locations((4.043314802, -5.176577902)):
            Rectangle(SKETCH1_4_W, SKETCH1_4_H)
        with BuildLine():
            Line((5.979806475, -5.676577902), (4.543314802, -5.676577902))
            Line((4.543314802, -5.676577902), (4.543314802, -7.113069575))
            ThreePointArc((4.543314802, -7.113069575), (5.457528364, -6.590791464), (5.979806475, -5.676577902))
        make_face()
        with BuildLine():
            ThreePointArc((4.543314802, -7.113069575), (4.043314802, -7.176577902), (3.543314802, -7.113069575))
            Line((3.543314802, -7.113069575), (3.543314802, -7.676577902))
            Line((3.543314802, -7.676577902), (4.543314802, -7.676577902))
            Line((4.543314802, -7.676577902), (4.543314802, -7.113069575))
        make_face()
        with BuildLine():
            Line((3.543314802, -5.676577902), (2.106823129, -5.676577902))
            ThreePointArc((2.106823129, -5.676577902), (2.62910124, -6.590791464), (3.543314802, -7.113069575))
            Line((3.543314802, -7.113069575), (3.543314802, -5.676577902))
        make_face()
        with BuildLine():
            Line((3.543314802, -4.676577902), (2.106823129, -4.676577902))
            ThreePointArc((2.106823129, -4.676577902), (2.043314802, -5.176577902), (2.106823129, -5.676577902))
            Line((2.106823129, -5.676577902), (3.543314802, -5.676577902))
            Line((3.543314802, -5.676577902), (3.543314802, -4.676577902))
        make_face()
        with BuildLine():
            ThreePointArc((3.543314802, -3.240086229), (2.62910124, -3.762364339), (2.106823129, -4.676577902))
            Line((2.106823129, -4.676577902), (3.543314802, -4.676577902))
            Line((3.543314802, -4.676577902), (3.543314802, -3.240086229))
        make_face()
        with BuildLine():
            Line((2.106823129, -4.676577902), (0, -4.676577902))
            Line((0, -4.676577902), (0, -5.676577902))
            Line((0, -5.676577902), (2.106823129, -5.676577902))
            ThreePointArc((2.106823129, -5.676577902), (2.043314802, -5.176577902), (2.106823129, -4.676577902))
        make_face()
    extrude(amount=-CUT_EXTRUDE1_DEPTH, mode=Mode.SUBTRACT)


solid = part.part
